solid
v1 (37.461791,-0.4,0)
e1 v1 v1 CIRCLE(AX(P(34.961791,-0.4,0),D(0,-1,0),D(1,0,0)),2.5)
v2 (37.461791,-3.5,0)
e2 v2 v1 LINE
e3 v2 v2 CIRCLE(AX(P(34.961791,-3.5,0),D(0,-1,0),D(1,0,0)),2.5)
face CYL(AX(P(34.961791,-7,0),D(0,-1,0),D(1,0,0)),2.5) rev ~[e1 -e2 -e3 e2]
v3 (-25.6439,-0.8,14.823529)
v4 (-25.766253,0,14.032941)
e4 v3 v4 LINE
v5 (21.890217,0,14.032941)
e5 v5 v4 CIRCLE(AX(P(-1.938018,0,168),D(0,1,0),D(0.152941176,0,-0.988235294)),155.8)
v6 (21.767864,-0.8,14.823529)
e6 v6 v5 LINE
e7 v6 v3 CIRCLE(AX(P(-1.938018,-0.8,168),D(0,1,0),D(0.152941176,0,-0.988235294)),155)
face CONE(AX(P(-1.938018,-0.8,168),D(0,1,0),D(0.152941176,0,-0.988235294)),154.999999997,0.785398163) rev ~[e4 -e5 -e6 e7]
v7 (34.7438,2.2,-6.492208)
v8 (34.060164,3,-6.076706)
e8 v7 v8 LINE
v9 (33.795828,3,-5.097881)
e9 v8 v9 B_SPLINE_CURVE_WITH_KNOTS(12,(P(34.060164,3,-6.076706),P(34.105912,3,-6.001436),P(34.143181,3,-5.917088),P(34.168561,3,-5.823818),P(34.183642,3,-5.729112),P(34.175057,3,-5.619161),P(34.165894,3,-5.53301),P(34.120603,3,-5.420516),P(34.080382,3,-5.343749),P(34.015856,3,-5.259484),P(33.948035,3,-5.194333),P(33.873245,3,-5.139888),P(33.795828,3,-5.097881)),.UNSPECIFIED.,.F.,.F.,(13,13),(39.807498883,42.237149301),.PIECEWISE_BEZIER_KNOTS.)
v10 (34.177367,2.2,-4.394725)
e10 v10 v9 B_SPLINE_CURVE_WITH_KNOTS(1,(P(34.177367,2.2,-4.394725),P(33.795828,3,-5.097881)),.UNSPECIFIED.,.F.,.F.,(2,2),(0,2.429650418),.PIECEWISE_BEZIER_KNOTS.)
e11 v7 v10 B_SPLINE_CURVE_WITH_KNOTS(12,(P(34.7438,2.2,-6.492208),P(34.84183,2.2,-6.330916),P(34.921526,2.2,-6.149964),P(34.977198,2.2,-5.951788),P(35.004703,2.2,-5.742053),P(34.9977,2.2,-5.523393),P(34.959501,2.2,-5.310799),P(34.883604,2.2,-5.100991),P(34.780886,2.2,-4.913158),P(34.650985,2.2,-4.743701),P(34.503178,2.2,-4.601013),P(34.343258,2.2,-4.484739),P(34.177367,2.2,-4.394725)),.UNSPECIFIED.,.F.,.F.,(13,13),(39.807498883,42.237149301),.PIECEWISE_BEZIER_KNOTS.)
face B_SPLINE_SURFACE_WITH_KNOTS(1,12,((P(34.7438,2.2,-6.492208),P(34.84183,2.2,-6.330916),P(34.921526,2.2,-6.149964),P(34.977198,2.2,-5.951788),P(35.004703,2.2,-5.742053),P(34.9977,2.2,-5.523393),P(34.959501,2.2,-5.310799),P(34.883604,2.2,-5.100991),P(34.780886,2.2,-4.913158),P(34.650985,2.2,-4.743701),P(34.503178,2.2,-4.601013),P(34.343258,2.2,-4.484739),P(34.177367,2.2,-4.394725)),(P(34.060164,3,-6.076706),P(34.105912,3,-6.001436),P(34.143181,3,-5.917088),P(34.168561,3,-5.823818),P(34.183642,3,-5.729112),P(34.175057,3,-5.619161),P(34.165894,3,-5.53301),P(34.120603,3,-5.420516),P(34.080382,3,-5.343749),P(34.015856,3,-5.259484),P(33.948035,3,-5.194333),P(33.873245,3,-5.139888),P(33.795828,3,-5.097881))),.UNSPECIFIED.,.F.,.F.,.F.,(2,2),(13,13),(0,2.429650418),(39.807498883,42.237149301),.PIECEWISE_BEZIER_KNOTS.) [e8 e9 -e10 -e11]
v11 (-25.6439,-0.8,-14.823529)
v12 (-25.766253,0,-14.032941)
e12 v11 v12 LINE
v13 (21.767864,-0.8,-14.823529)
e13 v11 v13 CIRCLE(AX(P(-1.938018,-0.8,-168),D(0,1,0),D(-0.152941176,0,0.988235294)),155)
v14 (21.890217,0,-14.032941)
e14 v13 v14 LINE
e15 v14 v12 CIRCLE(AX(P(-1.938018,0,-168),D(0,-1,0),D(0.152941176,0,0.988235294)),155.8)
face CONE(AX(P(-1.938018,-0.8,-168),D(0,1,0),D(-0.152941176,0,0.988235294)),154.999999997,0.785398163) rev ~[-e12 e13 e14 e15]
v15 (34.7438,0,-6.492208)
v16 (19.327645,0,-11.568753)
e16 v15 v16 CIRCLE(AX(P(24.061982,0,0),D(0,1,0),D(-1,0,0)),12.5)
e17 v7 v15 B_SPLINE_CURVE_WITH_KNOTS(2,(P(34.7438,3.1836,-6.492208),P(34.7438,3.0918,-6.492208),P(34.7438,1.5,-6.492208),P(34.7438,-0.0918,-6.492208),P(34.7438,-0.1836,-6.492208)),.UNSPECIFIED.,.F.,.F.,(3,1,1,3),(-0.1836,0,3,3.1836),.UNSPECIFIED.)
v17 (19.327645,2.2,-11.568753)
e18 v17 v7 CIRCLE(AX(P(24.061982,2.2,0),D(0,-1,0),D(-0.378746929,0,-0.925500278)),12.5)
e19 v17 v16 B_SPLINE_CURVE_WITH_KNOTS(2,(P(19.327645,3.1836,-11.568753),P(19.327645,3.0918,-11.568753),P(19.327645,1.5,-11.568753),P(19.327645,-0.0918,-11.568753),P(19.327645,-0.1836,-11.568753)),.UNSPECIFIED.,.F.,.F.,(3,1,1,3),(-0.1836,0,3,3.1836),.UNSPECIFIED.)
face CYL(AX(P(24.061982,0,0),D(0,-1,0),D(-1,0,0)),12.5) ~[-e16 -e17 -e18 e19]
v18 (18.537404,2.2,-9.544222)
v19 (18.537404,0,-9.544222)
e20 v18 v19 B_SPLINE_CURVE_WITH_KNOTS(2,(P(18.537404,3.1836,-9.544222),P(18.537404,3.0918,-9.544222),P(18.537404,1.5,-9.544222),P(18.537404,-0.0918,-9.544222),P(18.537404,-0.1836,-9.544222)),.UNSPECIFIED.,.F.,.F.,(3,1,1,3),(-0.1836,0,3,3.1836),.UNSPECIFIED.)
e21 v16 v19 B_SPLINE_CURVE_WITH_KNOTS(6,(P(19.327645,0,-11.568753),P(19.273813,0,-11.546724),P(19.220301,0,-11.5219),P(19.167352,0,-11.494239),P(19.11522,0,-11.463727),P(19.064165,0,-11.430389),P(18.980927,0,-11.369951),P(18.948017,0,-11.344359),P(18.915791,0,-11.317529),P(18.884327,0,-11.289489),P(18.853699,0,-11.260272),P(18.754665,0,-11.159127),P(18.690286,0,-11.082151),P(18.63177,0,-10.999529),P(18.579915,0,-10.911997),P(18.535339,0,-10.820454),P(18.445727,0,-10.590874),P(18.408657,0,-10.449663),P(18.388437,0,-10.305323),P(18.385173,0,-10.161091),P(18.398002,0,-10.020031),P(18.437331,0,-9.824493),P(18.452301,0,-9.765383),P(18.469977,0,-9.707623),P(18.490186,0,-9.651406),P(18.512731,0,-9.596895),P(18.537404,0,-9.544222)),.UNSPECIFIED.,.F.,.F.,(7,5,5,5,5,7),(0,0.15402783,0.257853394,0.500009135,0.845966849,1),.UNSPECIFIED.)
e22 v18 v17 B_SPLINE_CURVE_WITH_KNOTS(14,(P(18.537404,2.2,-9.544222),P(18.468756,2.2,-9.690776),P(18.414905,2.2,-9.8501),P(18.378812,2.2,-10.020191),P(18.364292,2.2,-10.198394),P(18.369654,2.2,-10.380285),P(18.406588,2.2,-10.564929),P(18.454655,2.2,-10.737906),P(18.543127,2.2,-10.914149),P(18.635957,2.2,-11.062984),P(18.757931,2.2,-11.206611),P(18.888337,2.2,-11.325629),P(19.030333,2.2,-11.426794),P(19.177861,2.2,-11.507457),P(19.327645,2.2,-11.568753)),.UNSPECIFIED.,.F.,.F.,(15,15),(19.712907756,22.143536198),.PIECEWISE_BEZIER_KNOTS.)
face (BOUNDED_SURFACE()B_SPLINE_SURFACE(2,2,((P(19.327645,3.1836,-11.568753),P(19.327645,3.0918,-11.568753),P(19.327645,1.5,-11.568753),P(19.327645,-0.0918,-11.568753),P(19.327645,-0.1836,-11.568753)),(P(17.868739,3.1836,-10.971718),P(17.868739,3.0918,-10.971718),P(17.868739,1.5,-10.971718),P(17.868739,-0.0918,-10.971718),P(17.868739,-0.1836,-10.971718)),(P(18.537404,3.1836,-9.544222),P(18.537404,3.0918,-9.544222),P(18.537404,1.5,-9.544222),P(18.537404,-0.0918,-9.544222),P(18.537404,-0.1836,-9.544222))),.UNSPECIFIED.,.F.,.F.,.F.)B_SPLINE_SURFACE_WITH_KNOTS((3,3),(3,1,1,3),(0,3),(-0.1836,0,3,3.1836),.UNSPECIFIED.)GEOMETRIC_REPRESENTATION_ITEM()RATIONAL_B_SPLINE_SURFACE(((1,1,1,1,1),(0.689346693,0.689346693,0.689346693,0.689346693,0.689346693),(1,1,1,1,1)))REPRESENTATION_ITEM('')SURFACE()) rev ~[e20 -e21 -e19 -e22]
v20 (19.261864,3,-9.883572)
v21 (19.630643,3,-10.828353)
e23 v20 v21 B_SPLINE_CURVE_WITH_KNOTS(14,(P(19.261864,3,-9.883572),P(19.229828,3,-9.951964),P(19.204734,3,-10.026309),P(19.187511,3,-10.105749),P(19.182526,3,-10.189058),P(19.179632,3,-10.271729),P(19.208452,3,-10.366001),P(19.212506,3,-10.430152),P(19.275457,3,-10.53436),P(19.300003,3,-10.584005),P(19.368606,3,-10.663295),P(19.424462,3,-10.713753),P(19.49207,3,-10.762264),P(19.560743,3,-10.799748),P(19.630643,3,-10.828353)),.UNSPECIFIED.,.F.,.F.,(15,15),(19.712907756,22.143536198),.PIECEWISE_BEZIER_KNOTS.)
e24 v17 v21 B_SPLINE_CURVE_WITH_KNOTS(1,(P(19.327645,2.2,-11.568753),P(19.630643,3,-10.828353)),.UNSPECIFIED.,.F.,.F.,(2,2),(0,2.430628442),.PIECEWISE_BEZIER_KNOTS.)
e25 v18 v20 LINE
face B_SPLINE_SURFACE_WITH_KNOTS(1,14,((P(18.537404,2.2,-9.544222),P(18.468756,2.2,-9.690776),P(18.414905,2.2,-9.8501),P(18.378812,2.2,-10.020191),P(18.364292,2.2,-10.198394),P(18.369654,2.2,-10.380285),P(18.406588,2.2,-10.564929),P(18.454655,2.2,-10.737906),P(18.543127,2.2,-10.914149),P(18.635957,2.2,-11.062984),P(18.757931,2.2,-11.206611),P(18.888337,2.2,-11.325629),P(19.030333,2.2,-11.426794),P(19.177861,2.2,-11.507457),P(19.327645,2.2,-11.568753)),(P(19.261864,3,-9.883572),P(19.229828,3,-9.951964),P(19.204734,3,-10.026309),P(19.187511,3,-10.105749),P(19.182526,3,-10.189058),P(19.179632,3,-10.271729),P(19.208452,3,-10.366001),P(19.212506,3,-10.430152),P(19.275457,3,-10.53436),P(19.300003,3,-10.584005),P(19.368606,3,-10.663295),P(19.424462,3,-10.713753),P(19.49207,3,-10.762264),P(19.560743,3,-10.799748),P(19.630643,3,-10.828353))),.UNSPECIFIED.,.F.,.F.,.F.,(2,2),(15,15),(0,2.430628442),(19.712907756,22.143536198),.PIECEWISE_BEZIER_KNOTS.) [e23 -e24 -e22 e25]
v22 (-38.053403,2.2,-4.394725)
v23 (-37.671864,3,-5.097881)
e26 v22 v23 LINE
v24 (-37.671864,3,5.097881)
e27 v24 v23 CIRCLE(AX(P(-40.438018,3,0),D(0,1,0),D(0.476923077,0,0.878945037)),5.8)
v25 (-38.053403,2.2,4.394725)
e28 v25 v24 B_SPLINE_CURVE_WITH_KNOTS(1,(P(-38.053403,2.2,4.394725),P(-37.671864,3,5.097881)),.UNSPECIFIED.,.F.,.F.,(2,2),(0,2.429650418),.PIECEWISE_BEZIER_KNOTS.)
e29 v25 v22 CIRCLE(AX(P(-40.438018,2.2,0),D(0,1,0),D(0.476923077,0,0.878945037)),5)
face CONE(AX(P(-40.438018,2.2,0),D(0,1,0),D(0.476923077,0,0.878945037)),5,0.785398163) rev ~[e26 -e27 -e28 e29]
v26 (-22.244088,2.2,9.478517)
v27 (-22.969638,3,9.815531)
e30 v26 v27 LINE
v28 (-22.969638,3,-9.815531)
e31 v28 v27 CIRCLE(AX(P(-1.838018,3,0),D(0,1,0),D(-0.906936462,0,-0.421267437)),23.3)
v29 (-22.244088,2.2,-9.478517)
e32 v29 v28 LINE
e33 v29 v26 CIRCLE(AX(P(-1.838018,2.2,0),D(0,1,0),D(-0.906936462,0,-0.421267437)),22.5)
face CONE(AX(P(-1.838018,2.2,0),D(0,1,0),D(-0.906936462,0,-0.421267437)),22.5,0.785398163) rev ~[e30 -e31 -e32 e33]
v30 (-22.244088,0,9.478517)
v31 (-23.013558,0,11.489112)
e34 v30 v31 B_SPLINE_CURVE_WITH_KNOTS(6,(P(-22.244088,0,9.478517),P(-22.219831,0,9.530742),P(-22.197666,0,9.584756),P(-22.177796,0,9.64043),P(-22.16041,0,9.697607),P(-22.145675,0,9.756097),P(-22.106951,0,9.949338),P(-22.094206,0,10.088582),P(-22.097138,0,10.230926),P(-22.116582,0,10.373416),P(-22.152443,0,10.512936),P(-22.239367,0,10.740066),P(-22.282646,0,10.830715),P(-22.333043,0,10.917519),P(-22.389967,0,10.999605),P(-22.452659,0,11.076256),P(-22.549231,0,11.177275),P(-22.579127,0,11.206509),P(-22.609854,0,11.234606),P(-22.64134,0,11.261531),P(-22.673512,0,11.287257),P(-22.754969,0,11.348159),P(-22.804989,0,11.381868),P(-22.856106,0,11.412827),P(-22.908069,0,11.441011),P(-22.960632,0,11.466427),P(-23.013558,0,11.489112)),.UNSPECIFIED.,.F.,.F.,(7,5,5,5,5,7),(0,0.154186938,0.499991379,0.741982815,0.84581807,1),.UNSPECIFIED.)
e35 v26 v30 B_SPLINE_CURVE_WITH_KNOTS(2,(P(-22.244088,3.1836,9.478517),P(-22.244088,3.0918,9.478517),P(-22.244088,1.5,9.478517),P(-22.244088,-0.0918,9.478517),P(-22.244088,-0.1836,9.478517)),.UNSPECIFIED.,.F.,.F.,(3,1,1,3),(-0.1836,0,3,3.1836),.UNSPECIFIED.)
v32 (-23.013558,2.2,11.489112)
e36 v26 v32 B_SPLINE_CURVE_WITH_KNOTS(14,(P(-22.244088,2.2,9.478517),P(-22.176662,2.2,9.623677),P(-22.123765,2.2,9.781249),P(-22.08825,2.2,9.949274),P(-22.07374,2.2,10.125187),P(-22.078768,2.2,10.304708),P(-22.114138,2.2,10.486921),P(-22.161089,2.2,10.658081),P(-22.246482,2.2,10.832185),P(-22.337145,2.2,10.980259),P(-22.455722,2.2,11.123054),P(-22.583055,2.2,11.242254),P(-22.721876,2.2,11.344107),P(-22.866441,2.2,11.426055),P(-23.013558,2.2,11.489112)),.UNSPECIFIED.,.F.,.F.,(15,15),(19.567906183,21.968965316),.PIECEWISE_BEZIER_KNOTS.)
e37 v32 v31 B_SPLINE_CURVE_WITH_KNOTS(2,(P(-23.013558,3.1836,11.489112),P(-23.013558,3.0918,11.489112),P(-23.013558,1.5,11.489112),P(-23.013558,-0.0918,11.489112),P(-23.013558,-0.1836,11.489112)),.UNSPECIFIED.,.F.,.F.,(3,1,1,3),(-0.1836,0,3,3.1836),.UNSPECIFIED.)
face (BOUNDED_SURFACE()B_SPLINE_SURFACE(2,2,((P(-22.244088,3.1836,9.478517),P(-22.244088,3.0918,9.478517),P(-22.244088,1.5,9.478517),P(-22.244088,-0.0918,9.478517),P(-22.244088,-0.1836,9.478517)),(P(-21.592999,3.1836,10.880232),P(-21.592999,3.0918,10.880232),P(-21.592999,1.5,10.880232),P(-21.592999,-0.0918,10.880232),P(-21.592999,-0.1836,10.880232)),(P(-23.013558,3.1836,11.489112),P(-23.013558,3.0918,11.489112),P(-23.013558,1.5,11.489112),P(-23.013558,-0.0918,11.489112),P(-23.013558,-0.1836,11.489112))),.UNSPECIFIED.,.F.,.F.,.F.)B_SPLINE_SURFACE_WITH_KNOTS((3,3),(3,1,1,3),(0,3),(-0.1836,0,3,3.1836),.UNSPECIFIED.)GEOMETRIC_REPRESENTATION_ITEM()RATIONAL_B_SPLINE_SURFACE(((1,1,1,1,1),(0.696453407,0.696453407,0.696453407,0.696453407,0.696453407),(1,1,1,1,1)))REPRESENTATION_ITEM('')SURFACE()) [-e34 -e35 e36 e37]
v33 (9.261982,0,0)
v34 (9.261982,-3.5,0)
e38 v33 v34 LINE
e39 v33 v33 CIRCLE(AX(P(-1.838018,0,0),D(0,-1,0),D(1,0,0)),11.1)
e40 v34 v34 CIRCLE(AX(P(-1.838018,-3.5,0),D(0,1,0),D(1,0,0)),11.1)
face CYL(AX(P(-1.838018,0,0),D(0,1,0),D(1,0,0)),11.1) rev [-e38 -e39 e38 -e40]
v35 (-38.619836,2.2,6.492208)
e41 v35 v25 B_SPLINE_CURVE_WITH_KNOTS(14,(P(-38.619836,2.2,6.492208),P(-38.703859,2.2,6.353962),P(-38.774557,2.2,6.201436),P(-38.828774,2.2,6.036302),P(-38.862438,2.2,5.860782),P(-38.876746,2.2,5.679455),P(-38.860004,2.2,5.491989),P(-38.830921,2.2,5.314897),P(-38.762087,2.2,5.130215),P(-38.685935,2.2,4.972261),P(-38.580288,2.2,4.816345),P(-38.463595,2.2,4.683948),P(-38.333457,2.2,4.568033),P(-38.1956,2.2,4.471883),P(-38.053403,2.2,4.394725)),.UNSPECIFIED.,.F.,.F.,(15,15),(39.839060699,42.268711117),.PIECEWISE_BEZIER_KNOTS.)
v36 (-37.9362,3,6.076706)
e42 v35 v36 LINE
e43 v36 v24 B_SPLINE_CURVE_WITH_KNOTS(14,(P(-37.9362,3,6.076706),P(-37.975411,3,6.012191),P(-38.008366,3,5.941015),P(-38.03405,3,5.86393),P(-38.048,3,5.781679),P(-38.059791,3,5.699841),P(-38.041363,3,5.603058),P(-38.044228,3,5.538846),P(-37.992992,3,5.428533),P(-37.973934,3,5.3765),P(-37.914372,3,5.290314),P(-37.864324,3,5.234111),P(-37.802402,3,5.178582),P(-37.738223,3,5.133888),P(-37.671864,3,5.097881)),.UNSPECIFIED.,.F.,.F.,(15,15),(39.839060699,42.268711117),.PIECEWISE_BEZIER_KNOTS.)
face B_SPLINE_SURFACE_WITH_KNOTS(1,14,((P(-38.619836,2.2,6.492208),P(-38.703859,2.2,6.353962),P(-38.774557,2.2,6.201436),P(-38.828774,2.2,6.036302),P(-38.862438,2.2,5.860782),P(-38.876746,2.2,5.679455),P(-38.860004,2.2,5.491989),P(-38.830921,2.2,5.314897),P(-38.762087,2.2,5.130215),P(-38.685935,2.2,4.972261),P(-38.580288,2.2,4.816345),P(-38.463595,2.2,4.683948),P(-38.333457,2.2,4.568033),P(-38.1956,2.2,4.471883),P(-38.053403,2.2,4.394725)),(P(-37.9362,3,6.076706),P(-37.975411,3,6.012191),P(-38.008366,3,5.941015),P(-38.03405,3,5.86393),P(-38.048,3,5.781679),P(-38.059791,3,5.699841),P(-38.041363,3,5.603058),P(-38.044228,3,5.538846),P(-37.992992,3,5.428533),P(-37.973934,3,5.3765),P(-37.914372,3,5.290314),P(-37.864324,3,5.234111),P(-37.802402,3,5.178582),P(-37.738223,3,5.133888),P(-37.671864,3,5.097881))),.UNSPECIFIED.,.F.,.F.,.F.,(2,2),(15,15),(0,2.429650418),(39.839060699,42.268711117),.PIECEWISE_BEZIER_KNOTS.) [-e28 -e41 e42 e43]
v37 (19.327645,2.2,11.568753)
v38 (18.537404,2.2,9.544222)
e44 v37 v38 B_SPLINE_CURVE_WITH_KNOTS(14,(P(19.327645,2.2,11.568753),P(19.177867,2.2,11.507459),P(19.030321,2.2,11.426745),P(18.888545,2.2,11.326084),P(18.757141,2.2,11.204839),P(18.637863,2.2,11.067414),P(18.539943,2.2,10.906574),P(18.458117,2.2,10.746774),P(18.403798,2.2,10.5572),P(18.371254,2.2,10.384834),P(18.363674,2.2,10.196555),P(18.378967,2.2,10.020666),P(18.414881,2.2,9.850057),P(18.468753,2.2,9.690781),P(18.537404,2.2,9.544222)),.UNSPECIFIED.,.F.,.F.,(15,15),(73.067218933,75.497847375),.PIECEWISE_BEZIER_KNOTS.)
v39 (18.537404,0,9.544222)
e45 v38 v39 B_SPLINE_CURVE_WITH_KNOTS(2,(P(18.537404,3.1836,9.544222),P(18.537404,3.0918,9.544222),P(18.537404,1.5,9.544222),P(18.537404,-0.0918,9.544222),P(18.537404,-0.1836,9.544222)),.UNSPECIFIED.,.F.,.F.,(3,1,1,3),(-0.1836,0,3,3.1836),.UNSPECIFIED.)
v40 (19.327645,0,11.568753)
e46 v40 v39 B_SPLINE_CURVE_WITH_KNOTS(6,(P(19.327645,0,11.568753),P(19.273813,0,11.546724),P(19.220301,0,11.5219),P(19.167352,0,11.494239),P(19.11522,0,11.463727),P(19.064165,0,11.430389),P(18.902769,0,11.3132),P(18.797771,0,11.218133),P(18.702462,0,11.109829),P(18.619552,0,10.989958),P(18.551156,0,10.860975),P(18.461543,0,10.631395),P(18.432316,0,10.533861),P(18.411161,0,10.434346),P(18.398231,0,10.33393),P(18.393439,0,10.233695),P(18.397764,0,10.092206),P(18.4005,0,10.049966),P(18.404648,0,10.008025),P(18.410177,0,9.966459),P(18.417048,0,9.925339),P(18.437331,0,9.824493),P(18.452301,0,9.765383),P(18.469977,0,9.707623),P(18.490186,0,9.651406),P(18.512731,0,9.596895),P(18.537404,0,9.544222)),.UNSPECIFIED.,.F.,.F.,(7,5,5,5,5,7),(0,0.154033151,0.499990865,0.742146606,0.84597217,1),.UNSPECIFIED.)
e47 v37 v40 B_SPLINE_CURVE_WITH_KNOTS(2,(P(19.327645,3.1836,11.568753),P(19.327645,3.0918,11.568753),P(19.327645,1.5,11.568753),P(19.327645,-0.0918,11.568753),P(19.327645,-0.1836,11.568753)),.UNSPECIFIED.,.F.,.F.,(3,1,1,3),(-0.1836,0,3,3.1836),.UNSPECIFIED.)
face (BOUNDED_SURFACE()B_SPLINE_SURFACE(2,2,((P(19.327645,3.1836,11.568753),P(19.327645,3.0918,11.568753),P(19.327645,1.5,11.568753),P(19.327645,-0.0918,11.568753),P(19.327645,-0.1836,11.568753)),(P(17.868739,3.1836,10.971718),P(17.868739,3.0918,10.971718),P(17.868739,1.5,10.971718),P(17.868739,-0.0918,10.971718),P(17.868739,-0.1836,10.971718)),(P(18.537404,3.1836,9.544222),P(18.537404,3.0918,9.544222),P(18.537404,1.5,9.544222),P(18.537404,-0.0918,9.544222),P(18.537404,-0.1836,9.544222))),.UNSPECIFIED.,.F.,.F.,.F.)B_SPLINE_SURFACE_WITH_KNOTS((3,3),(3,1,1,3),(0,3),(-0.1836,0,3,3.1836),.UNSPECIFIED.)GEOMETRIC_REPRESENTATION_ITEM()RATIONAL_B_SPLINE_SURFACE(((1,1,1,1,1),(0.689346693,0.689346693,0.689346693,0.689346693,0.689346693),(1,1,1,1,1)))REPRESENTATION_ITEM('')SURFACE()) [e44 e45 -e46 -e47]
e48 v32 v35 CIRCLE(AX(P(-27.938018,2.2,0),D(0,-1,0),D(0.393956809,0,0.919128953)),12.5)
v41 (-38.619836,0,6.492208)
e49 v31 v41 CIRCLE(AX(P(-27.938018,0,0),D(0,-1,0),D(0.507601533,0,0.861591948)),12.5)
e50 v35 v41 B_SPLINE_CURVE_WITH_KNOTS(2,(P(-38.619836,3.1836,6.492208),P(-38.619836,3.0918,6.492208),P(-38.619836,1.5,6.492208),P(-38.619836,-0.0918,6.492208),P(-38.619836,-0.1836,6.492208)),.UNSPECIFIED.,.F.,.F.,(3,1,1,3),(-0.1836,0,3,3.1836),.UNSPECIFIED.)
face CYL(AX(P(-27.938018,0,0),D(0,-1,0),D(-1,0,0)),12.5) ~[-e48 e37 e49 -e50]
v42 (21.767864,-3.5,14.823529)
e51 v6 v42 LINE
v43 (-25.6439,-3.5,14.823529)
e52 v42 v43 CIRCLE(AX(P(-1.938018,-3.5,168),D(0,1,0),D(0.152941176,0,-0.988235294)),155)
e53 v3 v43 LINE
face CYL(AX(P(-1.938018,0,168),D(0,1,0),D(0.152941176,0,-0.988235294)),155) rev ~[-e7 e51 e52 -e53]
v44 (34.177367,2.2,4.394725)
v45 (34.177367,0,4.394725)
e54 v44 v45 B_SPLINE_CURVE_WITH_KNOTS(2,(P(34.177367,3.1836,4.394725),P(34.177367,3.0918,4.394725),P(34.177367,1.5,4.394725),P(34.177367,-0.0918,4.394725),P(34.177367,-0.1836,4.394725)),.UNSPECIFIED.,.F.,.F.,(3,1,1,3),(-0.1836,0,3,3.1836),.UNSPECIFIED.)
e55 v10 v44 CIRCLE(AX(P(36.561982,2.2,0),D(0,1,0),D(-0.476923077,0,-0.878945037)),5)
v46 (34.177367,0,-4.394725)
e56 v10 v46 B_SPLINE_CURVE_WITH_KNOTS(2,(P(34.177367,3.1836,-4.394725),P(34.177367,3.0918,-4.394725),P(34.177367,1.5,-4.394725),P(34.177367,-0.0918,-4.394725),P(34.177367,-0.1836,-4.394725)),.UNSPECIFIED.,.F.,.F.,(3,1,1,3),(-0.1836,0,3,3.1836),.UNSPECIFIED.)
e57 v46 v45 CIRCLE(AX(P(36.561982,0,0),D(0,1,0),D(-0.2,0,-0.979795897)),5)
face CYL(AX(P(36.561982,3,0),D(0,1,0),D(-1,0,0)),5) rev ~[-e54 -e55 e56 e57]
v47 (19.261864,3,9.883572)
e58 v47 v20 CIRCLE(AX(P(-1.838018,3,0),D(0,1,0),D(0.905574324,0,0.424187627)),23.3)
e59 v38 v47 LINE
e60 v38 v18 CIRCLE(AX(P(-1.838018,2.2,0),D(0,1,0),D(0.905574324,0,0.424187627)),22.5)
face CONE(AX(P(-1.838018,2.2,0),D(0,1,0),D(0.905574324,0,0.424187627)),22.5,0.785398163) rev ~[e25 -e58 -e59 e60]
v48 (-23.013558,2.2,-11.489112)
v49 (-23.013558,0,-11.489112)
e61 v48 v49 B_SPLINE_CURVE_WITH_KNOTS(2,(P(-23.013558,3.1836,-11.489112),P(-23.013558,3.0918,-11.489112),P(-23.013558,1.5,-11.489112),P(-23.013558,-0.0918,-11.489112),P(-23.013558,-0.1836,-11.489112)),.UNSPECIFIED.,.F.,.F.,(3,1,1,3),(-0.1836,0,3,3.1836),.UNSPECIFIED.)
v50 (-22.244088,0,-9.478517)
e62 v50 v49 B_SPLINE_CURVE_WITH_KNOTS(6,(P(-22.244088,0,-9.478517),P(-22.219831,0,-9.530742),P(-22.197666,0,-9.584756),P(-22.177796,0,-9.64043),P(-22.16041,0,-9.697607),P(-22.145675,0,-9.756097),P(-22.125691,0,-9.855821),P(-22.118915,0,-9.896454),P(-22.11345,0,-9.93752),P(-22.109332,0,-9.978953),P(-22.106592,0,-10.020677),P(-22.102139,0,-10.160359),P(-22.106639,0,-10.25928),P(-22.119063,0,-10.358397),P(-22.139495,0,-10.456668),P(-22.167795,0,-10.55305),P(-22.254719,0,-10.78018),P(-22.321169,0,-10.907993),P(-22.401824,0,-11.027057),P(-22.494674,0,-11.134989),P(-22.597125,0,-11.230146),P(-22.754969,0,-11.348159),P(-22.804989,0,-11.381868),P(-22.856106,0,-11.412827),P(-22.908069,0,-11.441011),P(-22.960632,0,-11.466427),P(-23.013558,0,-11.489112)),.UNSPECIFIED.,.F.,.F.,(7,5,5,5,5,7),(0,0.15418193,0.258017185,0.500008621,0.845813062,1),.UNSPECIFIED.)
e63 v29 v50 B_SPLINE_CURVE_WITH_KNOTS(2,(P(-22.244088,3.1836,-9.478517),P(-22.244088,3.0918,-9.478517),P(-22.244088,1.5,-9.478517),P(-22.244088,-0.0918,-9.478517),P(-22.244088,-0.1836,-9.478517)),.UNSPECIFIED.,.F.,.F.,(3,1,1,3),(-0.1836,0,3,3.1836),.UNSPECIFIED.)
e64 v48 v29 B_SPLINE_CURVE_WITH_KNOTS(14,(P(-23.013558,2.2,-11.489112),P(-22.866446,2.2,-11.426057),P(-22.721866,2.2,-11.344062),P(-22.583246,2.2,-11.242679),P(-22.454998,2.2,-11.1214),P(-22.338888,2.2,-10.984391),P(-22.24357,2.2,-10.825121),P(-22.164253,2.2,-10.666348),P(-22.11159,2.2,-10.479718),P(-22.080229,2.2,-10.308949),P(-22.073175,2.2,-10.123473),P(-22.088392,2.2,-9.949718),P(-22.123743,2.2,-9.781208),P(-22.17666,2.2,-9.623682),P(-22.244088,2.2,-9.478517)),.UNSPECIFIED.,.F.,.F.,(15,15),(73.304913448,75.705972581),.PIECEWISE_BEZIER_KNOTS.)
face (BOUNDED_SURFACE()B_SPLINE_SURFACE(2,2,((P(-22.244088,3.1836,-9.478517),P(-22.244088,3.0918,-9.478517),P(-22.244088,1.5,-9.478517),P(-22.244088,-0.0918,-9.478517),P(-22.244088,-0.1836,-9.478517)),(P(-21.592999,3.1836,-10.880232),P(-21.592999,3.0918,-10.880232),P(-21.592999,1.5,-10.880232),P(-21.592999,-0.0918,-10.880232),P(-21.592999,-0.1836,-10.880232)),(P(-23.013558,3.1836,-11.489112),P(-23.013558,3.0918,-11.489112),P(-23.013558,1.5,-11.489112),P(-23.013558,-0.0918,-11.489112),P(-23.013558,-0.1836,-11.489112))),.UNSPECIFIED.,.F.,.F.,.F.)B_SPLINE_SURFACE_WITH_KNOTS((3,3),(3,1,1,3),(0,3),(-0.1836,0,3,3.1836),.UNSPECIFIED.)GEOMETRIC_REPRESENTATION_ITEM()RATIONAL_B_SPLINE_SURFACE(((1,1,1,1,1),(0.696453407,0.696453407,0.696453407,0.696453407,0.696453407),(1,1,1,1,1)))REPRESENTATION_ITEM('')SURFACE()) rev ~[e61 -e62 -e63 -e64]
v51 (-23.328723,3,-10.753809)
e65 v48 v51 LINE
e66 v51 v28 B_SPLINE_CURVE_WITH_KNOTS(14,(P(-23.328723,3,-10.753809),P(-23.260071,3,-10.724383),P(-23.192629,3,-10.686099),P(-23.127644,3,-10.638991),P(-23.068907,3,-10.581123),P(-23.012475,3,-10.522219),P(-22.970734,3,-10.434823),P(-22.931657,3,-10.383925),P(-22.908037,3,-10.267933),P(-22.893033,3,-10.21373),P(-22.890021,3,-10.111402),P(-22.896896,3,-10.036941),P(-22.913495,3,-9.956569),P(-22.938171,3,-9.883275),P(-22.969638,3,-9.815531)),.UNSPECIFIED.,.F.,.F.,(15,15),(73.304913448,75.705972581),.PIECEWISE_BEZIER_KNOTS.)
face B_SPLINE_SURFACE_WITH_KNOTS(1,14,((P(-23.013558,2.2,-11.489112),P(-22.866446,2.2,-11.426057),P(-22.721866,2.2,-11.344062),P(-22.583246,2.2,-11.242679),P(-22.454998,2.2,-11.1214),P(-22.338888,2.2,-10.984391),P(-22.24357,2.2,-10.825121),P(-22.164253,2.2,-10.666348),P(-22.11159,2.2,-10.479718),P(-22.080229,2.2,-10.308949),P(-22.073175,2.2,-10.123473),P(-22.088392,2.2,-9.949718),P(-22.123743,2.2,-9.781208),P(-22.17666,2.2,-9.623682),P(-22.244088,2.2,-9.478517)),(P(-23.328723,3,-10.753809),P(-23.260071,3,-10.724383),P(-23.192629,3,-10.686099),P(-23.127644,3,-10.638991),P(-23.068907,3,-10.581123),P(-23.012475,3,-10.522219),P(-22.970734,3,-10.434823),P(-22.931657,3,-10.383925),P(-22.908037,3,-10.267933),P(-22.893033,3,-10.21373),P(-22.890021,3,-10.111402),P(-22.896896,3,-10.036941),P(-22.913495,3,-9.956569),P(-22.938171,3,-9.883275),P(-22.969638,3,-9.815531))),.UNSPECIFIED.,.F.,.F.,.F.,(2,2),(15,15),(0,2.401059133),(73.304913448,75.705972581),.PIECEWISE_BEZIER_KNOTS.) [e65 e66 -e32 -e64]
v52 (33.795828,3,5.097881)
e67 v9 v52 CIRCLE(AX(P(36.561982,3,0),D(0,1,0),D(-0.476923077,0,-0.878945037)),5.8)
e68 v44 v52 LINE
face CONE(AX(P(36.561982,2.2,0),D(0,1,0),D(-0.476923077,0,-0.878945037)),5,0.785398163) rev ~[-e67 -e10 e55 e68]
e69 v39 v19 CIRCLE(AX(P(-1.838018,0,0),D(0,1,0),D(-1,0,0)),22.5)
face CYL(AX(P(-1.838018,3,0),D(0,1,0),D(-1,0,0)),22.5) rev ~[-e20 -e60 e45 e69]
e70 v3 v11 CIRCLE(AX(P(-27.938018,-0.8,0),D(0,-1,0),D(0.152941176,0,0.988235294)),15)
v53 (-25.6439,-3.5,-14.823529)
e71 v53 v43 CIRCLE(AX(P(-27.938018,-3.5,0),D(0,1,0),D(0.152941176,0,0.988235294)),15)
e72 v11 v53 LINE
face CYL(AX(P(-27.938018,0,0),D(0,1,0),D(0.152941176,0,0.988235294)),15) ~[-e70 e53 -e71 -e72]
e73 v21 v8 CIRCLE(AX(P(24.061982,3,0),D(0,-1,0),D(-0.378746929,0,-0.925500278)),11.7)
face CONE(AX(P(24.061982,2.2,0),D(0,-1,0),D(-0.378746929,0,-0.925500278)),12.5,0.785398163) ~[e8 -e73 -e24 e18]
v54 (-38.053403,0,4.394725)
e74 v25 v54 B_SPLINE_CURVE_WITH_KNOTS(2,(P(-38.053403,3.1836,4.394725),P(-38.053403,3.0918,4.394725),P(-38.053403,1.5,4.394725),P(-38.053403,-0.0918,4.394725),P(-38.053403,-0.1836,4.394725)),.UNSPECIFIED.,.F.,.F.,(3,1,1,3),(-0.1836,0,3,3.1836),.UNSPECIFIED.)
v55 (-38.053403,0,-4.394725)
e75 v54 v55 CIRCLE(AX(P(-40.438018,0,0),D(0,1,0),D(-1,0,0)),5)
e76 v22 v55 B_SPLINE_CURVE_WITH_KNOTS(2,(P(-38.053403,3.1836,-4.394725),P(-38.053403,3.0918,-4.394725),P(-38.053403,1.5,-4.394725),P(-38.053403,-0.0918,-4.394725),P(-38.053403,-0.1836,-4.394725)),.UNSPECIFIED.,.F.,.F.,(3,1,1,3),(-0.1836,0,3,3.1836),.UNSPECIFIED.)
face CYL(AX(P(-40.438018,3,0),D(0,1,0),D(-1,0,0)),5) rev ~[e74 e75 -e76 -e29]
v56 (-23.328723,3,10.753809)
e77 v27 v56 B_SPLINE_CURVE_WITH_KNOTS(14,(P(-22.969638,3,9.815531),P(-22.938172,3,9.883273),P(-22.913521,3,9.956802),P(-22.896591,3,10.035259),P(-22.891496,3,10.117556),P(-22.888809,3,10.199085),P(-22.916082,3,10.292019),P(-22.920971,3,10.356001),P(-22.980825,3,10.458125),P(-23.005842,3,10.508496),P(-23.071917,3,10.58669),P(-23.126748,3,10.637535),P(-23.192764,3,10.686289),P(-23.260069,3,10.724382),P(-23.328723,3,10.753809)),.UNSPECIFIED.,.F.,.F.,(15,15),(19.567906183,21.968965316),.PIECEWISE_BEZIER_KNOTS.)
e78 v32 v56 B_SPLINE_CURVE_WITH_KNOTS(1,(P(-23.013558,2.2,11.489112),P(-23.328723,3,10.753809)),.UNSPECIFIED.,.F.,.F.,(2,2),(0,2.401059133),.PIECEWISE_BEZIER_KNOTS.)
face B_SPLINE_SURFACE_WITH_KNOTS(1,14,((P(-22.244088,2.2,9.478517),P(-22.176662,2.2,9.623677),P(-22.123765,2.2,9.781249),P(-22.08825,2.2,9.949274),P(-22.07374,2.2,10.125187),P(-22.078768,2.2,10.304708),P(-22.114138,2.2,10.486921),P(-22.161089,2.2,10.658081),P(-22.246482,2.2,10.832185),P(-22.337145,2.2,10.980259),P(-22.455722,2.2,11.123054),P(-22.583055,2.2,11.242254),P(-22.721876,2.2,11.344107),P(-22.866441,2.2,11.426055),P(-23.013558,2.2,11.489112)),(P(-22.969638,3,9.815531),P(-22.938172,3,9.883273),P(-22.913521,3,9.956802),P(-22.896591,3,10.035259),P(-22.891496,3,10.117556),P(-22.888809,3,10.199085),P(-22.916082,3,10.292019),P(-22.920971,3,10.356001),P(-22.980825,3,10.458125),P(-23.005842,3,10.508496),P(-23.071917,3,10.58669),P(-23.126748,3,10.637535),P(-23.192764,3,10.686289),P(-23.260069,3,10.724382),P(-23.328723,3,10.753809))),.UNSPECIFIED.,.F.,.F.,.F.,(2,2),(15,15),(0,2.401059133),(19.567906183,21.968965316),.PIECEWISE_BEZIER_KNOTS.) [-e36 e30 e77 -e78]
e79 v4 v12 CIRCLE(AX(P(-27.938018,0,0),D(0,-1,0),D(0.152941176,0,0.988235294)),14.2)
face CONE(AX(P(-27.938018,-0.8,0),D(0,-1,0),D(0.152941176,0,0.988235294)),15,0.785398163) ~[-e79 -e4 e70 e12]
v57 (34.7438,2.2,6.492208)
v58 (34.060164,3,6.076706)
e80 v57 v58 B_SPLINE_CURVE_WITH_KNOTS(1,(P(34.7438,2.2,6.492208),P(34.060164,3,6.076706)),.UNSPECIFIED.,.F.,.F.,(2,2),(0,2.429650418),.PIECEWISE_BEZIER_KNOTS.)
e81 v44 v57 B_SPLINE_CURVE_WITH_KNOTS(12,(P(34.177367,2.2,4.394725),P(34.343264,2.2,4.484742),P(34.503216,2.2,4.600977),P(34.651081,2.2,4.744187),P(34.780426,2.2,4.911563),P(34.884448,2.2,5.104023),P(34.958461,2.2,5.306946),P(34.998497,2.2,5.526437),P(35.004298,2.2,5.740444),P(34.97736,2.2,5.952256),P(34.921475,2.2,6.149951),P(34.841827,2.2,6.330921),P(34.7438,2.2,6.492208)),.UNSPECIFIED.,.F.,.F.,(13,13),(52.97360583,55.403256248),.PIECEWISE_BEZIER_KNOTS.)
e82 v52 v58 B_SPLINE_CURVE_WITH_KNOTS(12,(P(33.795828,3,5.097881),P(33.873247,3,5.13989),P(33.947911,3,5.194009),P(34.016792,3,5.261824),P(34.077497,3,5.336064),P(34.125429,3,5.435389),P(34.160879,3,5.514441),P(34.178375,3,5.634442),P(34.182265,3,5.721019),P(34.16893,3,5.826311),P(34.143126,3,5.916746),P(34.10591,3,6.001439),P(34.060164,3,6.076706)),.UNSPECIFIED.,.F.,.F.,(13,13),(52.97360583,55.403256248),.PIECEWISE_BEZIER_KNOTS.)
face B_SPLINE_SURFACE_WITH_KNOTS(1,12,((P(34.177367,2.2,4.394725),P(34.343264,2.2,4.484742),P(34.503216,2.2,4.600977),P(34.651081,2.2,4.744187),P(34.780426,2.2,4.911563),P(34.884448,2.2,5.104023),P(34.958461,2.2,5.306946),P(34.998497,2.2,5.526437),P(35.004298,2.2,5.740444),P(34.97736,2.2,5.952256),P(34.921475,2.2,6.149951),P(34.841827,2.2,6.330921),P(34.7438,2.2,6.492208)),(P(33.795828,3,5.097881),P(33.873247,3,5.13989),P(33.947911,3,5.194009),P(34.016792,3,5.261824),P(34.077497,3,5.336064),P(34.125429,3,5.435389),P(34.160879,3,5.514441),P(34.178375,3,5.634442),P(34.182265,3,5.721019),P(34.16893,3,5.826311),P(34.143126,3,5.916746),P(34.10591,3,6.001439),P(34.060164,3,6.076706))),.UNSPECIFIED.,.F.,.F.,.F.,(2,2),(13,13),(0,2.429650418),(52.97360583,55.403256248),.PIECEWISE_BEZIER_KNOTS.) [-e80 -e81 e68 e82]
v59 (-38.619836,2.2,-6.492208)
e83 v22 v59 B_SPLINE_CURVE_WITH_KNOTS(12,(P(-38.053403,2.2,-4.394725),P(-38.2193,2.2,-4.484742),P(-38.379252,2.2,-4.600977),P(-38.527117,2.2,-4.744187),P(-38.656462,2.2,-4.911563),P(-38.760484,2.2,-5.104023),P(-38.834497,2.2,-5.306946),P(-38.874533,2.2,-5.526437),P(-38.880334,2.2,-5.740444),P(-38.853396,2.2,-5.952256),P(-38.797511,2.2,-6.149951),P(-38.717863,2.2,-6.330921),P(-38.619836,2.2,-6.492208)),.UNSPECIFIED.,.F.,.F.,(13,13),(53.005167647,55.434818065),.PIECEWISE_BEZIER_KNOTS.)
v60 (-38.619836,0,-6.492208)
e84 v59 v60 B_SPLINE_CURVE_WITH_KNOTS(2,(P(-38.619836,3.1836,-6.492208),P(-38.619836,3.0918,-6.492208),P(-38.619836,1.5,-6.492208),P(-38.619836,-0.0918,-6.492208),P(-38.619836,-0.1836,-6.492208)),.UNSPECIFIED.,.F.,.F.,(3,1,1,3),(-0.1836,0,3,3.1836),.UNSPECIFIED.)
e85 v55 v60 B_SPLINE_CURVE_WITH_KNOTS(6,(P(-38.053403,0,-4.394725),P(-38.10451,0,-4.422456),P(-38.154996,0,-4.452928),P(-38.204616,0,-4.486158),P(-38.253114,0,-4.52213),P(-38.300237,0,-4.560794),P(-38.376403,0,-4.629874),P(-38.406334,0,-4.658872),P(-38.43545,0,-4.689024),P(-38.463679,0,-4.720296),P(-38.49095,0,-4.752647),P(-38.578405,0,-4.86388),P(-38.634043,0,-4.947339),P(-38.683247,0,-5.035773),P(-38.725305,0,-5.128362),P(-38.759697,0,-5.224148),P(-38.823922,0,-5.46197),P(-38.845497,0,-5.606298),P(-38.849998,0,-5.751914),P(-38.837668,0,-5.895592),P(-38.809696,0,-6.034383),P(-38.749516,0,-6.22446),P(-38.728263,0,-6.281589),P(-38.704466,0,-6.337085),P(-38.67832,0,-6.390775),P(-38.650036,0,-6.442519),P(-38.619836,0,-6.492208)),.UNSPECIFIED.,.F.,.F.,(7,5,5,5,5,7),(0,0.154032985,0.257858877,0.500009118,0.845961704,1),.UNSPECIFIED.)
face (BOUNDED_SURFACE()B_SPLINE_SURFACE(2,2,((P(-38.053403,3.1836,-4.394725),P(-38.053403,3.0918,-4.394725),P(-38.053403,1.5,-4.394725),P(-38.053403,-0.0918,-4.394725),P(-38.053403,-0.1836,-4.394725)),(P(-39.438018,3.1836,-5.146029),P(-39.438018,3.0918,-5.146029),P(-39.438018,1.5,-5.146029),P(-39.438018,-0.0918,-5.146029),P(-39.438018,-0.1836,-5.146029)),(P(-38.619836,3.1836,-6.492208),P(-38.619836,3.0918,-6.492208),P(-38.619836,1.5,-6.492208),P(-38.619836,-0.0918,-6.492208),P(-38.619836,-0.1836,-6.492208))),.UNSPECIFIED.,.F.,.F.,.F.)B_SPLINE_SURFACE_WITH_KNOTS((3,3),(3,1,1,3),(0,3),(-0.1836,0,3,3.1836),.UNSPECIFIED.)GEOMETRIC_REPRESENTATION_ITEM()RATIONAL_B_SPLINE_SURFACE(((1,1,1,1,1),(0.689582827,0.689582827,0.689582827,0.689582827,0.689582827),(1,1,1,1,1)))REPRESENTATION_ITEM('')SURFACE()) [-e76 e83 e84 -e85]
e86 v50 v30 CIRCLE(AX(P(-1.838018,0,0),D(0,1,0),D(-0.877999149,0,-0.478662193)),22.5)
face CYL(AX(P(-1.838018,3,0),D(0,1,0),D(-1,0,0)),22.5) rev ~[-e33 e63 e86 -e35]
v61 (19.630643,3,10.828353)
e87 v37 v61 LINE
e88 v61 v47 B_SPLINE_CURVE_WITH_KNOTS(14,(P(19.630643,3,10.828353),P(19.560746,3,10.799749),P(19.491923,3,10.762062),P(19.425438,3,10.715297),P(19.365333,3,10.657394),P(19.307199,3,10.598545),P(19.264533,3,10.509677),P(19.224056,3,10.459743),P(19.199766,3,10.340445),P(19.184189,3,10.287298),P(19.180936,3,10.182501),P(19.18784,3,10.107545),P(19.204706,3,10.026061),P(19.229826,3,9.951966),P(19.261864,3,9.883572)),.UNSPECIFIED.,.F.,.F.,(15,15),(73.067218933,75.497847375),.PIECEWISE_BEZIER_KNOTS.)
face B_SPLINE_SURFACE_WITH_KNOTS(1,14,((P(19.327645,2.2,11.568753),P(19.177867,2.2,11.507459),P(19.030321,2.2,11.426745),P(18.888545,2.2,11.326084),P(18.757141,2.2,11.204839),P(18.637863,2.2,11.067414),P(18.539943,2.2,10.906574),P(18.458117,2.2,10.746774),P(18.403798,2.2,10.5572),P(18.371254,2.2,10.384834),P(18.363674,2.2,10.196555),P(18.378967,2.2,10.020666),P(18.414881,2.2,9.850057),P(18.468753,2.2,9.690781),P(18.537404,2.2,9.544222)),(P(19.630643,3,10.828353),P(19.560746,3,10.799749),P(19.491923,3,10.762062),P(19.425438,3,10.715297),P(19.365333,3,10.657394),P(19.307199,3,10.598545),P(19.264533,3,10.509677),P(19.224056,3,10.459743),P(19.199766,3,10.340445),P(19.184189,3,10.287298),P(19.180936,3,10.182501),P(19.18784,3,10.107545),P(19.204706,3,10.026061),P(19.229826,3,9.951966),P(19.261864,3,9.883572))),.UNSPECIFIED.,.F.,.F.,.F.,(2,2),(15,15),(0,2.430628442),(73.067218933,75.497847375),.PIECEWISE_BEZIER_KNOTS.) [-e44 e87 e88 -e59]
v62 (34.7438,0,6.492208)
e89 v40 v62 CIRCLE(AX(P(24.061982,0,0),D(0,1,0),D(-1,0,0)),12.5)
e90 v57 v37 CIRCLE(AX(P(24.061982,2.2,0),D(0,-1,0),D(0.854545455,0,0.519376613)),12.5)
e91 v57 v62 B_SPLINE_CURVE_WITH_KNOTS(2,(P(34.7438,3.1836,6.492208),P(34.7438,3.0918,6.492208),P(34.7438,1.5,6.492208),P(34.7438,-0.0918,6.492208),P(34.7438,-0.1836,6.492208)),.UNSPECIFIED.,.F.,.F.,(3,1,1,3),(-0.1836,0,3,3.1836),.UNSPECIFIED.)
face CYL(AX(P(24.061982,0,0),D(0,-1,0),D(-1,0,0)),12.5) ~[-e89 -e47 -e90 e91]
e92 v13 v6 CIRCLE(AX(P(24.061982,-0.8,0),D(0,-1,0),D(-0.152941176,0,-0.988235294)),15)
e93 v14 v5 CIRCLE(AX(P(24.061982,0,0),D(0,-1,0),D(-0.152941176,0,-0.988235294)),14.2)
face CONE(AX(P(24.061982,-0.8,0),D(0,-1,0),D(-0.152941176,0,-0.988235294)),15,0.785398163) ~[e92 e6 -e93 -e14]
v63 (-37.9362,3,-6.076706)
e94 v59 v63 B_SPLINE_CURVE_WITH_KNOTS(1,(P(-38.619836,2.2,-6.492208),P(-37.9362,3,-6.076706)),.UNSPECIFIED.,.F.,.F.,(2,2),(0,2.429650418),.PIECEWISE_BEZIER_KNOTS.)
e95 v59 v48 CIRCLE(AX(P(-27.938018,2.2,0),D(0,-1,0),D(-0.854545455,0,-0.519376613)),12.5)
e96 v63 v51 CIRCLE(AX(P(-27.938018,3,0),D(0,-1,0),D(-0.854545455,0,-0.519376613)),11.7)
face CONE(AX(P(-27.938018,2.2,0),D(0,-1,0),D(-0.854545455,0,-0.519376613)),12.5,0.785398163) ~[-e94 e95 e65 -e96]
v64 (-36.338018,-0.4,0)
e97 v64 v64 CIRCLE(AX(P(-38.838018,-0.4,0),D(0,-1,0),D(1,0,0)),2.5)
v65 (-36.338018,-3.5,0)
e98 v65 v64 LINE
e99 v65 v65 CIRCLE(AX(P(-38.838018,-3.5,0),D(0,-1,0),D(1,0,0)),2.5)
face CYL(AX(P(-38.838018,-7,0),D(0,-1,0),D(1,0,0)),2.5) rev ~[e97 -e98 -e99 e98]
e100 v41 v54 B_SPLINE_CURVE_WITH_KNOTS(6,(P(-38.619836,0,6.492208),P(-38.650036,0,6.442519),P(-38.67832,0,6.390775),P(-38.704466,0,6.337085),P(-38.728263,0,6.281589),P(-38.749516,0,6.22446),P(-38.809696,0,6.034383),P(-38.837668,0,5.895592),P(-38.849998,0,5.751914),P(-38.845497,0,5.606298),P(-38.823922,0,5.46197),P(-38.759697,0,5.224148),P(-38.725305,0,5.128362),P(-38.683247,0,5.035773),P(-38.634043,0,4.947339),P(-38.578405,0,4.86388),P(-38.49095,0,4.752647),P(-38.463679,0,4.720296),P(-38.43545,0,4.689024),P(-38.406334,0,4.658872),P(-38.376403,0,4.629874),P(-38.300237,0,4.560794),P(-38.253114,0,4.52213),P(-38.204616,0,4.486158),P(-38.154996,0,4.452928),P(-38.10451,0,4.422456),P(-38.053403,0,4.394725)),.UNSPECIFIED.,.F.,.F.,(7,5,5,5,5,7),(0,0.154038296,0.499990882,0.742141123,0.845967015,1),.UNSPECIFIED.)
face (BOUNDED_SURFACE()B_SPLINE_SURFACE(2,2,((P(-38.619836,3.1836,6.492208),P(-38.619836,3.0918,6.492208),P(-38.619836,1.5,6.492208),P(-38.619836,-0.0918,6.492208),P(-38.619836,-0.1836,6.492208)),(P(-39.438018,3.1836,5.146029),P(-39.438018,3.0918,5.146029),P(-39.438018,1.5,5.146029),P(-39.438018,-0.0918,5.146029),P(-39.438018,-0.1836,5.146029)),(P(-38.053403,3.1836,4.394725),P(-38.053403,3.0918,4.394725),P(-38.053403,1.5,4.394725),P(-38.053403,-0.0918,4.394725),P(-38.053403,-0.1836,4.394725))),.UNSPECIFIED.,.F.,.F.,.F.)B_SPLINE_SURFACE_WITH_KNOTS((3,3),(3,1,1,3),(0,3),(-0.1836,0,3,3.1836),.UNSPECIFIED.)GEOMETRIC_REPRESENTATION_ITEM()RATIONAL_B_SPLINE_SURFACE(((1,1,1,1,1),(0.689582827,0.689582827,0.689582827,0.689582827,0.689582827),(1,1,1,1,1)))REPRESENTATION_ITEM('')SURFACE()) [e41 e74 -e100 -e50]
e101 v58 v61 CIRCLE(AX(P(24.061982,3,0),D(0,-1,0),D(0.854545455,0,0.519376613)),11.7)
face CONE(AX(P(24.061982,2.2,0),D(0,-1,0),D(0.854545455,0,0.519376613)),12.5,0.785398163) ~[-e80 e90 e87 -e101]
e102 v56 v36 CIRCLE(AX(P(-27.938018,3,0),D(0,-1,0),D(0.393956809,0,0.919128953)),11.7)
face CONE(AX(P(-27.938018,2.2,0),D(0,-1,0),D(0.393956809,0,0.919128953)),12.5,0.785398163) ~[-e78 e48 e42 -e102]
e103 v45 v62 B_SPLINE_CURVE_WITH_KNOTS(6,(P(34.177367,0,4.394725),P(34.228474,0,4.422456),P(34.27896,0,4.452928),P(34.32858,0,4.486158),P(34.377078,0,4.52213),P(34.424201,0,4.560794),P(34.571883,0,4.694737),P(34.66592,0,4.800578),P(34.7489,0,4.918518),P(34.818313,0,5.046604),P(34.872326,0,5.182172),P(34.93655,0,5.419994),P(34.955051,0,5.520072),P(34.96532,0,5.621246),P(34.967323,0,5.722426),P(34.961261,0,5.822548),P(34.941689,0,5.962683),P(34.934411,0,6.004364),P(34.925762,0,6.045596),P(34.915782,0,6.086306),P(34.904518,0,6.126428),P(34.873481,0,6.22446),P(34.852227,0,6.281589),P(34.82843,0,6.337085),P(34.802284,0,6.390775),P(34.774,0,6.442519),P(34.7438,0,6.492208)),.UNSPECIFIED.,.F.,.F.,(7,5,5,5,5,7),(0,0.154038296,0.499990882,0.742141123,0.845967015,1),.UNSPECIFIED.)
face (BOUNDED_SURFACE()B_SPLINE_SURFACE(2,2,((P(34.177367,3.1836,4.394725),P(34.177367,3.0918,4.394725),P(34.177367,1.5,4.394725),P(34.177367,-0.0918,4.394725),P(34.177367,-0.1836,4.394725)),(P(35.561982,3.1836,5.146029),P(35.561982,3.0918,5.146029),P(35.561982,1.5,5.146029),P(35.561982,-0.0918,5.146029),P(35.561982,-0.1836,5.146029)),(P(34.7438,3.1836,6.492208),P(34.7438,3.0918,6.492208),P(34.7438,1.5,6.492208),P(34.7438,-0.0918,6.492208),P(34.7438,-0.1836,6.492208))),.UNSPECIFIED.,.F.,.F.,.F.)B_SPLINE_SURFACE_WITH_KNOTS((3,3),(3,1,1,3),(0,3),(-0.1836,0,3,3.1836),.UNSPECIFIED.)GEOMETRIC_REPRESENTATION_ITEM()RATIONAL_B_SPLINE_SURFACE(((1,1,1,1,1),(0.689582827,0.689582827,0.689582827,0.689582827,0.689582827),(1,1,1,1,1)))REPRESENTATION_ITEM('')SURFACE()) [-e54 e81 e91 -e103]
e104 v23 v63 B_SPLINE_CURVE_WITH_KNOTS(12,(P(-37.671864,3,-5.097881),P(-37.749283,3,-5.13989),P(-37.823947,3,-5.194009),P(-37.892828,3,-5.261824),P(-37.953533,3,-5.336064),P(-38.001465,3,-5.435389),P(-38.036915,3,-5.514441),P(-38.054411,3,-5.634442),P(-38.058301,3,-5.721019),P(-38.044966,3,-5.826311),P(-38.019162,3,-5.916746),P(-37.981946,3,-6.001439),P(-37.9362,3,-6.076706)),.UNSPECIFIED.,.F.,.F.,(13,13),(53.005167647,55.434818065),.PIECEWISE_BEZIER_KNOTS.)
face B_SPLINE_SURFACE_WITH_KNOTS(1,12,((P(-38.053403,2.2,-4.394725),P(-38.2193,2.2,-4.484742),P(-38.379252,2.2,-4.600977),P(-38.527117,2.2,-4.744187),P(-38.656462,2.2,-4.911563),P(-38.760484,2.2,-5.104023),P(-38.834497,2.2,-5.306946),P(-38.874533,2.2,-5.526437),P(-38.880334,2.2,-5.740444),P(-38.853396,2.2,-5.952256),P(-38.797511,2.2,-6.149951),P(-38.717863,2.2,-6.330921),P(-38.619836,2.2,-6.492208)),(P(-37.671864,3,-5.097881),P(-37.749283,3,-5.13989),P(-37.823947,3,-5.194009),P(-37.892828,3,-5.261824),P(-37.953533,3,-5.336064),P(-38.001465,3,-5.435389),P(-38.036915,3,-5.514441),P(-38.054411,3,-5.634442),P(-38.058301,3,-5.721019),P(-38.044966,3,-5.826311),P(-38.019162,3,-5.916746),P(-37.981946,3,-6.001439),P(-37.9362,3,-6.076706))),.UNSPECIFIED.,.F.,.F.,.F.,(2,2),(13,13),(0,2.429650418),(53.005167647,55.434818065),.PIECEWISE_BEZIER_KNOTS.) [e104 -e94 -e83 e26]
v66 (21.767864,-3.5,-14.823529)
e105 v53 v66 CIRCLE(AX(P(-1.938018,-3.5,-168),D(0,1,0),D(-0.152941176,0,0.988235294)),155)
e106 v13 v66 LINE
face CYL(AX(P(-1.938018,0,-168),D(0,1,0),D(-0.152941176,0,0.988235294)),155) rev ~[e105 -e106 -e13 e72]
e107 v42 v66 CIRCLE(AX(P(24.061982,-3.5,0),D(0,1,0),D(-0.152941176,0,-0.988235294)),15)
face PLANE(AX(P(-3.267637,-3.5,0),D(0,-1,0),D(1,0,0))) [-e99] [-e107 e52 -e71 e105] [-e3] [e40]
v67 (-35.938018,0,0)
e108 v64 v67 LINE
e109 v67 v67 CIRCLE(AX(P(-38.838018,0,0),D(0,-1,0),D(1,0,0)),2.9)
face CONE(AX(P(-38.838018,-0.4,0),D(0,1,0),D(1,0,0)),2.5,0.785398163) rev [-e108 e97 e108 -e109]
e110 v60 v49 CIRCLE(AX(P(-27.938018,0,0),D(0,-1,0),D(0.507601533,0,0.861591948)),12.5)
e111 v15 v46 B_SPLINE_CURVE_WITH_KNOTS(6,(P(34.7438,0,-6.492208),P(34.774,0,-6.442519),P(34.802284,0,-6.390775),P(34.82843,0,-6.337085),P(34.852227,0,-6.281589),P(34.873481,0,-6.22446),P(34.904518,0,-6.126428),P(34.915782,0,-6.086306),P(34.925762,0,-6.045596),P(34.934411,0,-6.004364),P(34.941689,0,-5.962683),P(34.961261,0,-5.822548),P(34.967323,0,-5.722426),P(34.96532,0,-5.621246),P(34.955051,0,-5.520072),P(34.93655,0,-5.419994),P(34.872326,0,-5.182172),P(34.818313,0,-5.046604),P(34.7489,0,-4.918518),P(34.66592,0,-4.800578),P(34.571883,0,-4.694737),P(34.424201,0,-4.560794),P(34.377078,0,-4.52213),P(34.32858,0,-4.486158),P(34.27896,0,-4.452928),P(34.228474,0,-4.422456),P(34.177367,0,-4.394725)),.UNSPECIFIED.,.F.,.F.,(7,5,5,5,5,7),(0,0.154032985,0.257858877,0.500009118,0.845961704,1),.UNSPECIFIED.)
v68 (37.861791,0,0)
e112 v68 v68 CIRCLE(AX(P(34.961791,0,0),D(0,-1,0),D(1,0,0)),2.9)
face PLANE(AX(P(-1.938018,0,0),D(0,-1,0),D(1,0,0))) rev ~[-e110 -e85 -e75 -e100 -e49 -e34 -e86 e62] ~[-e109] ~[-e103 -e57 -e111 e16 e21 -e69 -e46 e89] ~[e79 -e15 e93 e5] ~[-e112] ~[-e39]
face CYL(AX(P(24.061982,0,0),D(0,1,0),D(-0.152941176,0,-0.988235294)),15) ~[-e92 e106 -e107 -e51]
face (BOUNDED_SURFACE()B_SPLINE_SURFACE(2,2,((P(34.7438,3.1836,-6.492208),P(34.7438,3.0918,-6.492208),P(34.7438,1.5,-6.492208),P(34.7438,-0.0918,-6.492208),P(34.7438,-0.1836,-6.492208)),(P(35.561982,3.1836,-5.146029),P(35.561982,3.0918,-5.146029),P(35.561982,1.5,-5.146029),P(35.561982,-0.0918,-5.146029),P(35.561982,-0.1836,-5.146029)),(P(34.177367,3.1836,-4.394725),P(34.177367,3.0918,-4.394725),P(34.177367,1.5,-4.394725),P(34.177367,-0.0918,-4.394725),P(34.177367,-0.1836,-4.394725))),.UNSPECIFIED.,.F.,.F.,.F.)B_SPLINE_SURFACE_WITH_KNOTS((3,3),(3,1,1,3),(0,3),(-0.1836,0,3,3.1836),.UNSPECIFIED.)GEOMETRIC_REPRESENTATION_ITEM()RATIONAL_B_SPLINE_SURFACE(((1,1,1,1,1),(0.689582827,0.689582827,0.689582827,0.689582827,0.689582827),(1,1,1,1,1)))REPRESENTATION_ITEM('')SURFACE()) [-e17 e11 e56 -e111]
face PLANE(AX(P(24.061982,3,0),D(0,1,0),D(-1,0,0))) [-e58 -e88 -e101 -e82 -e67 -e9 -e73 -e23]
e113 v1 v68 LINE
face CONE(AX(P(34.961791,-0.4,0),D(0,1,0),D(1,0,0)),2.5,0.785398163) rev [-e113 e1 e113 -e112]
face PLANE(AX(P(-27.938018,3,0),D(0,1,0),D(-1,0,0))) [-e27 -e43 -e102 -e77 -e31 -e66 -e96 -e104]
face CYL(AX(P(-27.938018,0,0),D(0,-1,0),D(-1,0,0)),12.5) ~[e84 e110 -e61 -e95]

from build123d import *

# Parameters (mm, degrees)
F0_R      = 11.1
F1_DEPTH  = 7
F2_SIZE   = 0.8
F3_R      = 12.5
F4_DEPTH  = 3
F5_R      = 12.5
F6_DEPTH  = 3
F8_R      = 22.5
F9_DEPTH  = 3
F10_R     = 22.5
F11_DEPTH = 3
F12_R     = 5
F13_DEPTH = 3
F14_R     = 5
F15_DEPTH = 3
F16_R     = 5
F17_DEPTH = 3
F18_R     = 5
F19_DEPTH = 3
F20_R     = 1.5
F21_R     = 2.5
F22_DEPTH = 25
F23_R     = 2.5
F24_DEPTH = 25
F25_SIZE  = 0.4
F26_SIZE  = 0.8
F27_W     = 103.2572649419
F27_H     = 49.3412911892
F28_DEPTH = 6.5


with BuildPart() as f1:
    # F0 (on Front) → F1 (new body)
    with BuildSketch(Plane.XZ):
        with BuildLine():
            ThreePointArc((21.7678643686, 14.8235294118), (-1.9380179843, 13), (-25.6439003372, 14.8235294118))
            ThreePointArc((-25.6439003372, 14.8235294118), (-42.9380179843, 0), (-25.6439003372, -14.8235294118))
            ThreePointArc((-25.6439003372, -14.8235294118), (-1.9380179843, -13), (21.7678643686, -14.8235294118))
            ThreePointArc((21.7678643686, -14.8235294118), (39.0619820157, 0), (21.7678643686, 14.8235294118))
        make_face()
        with Locations((-1.8380179843, 0)):
            Circle(F0_R, mode=Mode.SUBTRACT)
    extrude(amount=F1_DEPTH)

    # F2
    f2_edges = [f1.edges().sort_by_distance(p)[0] for p in [
        (-42.938018, -7, 0),
        (-1.938018, -7, -13),
        (-1.938018, 0, -13),
    ]]
    chamfer(f2_edges, length=F2_SIZE)

    # F3 (on face) → F4 (join)
    with BuildSketch(Plane.XZ.offset(7)):
        with Locations((-27.9380179843, 0)):
            Circle(F3_R)
        with Locations((24.0619820157, 0)):
            Circle(F3_R)
    extrude(amount=F4_DEPTH)

    # F5 (on face) → F6 (join)
    with BuildSketch(Plane(origin=(0, 0, 0), x_dir=(-1, 0, 0), z_dir=(0, 1, 0))):
        with Locations((-24.0619820157, 0)):
            Circle(F5_R)
        with Locations((27.9380179843, 0)):
            Circle(F5_R)
    extrude(amount=F6_DEPTH)

    # F8 (on face) → F9 (cut)
    with BuildSketch(Plane.XZ.offset(10)):
        with Locations((-1.8380179843, 0)):
            Circle(F8_R)
    extrude(amount=-F9_DEPTH, mode=Mode.SUBTRACT)

    # F10 (on face) → F11 (cut)
    with BuildSketch(Plane(origin=(0, 3, 0), x_dir=(-1, 0, 0), z_dir=(0, 1, 0))):
        with Locations((1.8380179843, 0)):
            Circle(F10_R)
    extrude(amount=-F11_DEPTH, mode=Mode.SUBTRACT)

    # F12 (on face) → F13 (cut)
    with BuildSketch(Plane(origin=(0, 3, 0), x_dir=(-1, 0, 0), z_dir=(0, 1, 0))):
        with Locations((-36.5619820157, 0)):
            Circle(F12_R)
    extrude(amount=-F13_DEPTH, mode=Mode.SUBTRACT)

    # F14 (on face) → F15 (cut)
    with BuildSketch(Plane(origin=(0, 3, 0), x_dir=(-1, 0, 0), z_dir=(0, 1, 0))):
        with Locations((40.4380179843, 0)):
            Circle(F14_R)
    extrude(amount=-F15_DEPTH, mode=Mode.SUBTRACT)

    # F16 (on face) → F17 (cut)
    with BuildSketch(Plane.XZ.offset(10)):
        with Locations((-40.4380179843, 0)):
            Circle(F16_R)
    extrude(amount=-F17_DEPTH, mode=Mode.SUBTRACT)

    # F18 (on face) → F19 (cut)
    with BuildSketch(Plane.XZ.offset(10)):
        with Locations((36.5617908537, 0)):
            Circle(F18_R)
    extrude(amount=-F19_DEPTH, mode=Mode.SUBTRACT)

    # F20
    f20_edges = [f1.edges().sort_by_distance(p)[0] for p in [
        (-39.438018, -8.5, 4.898979),
        (-39.438018, -8.5, -4.898979),
        (-21.592999, -8.5, -10.769899),
        (-21.592999, -8.5, 10.769899),
        (17.868739, -8.5, 10.857888),
        (17.868739, -8.5, -10.857888),
        (35.561967, -8.5, -4.899015),
        (35.561967, -8.5, 4.899015),
        (-21.592999, 1.5, -10.769899),
        (-21.592999, 1.5, 10.769899),
        (-39.438018, 1.5, 4.898979),
        (-39.438018, 1.5, -4.898979),
        (17.868739, 1.5, -10.857888),
        (17.868739, 1.5, 10.857888),
        (35.561982, 1.5, -4.898979),
        (35.561982, 1.5, 4.898979),
    ]]
    fillet(f20_edges, radius=F20_R)

    # F21 (on face) → F22 (cut)
    with BuildSketch(Plane.XZ.offset(7)):
        with Locations((-38.8380179843, 0)):
            Circle(F21_R)
    extrude(amount=-F22_DEPTH, mode=Mode.SUBTRACT)

    # F23 (on face) → F24 (cut)
    with BuildSketch(Plane.XZ.offset(7)):
        with Locations((34.9617908537, 0)):
            Circle(F23_R)
    extrude(amount=-F24_DEPTH, mode=Mode.SUBTRACT)

    # F25
    f25_edges = [f1.edges().sort_by_distance(p)[0] for p in [
        (-41.338018, -7, 0),
        (32.461791, -7, 0),
        (32.461791, 0, 0),
        (-41.338018, 0, 0),
    ]]
    chamfer(f25_edges, length=F25_SIZE)

    # F26
    f26_edges = [f1.edges().sort_by_distance(p)[0] for p in [
        (27.97166, -10, 11.872844),
        (18.498441, -10, 10.725925),
        (34.910055, -10, 5.322137),
        (20.661982, -10, 0),
        (31.561791, -10, 0),
        (18.498441, -10, -10.725925),
        (34.910055, -10, -5.322137),
        (27.97166, -10, -11.872844),
        (-24.338018, -10, 0),
        (-22.203581, -10, 10.646558),
        (-22.203581, -10, -10.646558),
        (-31.749718, -10, 11.904661),
        (-31.749718, -10, -11.904661),
        (-38.786142, -10, 5.322071),
        (-38.786142, -10, -5.322071),
        (-35.438018, -10, 0),
        (-24.338018, 3, 0),
        (-22.203581, 3, -10.646558),
        (-22.203581, 3, 10.646558),
        (-31.749718, 3, -11.904661),
        (-31.749718, 3, 11.904661),
        (-38.786142, 3, -5.322071),
        (-38.786142, 3, 5.322071),
        (-35.438018, 3, 0),
        (20.661982, 3, 0),
        (18.498441, 3, 10.725925),
        (18.498441, 3, -10.725925),
        (27.971709, 3, 11.872828),
        (27.971709, 3, -11.872828),
        (34.910106, 3, 5.322071),
        (34.910106, 3, -5.322071),
        (31.561982, 3, 0),
    ]]
    chamfer(f26_edges, length=F26_SIZE)

    # F27 (on face) → F28 (cut)
    with BuildSketch(Plane.XZ.offset(10)):
        with Locations((-3.2676365227, 0)):
            Rectangle(F27_W, F27_H)
    extrude(amount=-F28_DEPTH, mode=Mode.SUBTRACT)


solid = f1.part
